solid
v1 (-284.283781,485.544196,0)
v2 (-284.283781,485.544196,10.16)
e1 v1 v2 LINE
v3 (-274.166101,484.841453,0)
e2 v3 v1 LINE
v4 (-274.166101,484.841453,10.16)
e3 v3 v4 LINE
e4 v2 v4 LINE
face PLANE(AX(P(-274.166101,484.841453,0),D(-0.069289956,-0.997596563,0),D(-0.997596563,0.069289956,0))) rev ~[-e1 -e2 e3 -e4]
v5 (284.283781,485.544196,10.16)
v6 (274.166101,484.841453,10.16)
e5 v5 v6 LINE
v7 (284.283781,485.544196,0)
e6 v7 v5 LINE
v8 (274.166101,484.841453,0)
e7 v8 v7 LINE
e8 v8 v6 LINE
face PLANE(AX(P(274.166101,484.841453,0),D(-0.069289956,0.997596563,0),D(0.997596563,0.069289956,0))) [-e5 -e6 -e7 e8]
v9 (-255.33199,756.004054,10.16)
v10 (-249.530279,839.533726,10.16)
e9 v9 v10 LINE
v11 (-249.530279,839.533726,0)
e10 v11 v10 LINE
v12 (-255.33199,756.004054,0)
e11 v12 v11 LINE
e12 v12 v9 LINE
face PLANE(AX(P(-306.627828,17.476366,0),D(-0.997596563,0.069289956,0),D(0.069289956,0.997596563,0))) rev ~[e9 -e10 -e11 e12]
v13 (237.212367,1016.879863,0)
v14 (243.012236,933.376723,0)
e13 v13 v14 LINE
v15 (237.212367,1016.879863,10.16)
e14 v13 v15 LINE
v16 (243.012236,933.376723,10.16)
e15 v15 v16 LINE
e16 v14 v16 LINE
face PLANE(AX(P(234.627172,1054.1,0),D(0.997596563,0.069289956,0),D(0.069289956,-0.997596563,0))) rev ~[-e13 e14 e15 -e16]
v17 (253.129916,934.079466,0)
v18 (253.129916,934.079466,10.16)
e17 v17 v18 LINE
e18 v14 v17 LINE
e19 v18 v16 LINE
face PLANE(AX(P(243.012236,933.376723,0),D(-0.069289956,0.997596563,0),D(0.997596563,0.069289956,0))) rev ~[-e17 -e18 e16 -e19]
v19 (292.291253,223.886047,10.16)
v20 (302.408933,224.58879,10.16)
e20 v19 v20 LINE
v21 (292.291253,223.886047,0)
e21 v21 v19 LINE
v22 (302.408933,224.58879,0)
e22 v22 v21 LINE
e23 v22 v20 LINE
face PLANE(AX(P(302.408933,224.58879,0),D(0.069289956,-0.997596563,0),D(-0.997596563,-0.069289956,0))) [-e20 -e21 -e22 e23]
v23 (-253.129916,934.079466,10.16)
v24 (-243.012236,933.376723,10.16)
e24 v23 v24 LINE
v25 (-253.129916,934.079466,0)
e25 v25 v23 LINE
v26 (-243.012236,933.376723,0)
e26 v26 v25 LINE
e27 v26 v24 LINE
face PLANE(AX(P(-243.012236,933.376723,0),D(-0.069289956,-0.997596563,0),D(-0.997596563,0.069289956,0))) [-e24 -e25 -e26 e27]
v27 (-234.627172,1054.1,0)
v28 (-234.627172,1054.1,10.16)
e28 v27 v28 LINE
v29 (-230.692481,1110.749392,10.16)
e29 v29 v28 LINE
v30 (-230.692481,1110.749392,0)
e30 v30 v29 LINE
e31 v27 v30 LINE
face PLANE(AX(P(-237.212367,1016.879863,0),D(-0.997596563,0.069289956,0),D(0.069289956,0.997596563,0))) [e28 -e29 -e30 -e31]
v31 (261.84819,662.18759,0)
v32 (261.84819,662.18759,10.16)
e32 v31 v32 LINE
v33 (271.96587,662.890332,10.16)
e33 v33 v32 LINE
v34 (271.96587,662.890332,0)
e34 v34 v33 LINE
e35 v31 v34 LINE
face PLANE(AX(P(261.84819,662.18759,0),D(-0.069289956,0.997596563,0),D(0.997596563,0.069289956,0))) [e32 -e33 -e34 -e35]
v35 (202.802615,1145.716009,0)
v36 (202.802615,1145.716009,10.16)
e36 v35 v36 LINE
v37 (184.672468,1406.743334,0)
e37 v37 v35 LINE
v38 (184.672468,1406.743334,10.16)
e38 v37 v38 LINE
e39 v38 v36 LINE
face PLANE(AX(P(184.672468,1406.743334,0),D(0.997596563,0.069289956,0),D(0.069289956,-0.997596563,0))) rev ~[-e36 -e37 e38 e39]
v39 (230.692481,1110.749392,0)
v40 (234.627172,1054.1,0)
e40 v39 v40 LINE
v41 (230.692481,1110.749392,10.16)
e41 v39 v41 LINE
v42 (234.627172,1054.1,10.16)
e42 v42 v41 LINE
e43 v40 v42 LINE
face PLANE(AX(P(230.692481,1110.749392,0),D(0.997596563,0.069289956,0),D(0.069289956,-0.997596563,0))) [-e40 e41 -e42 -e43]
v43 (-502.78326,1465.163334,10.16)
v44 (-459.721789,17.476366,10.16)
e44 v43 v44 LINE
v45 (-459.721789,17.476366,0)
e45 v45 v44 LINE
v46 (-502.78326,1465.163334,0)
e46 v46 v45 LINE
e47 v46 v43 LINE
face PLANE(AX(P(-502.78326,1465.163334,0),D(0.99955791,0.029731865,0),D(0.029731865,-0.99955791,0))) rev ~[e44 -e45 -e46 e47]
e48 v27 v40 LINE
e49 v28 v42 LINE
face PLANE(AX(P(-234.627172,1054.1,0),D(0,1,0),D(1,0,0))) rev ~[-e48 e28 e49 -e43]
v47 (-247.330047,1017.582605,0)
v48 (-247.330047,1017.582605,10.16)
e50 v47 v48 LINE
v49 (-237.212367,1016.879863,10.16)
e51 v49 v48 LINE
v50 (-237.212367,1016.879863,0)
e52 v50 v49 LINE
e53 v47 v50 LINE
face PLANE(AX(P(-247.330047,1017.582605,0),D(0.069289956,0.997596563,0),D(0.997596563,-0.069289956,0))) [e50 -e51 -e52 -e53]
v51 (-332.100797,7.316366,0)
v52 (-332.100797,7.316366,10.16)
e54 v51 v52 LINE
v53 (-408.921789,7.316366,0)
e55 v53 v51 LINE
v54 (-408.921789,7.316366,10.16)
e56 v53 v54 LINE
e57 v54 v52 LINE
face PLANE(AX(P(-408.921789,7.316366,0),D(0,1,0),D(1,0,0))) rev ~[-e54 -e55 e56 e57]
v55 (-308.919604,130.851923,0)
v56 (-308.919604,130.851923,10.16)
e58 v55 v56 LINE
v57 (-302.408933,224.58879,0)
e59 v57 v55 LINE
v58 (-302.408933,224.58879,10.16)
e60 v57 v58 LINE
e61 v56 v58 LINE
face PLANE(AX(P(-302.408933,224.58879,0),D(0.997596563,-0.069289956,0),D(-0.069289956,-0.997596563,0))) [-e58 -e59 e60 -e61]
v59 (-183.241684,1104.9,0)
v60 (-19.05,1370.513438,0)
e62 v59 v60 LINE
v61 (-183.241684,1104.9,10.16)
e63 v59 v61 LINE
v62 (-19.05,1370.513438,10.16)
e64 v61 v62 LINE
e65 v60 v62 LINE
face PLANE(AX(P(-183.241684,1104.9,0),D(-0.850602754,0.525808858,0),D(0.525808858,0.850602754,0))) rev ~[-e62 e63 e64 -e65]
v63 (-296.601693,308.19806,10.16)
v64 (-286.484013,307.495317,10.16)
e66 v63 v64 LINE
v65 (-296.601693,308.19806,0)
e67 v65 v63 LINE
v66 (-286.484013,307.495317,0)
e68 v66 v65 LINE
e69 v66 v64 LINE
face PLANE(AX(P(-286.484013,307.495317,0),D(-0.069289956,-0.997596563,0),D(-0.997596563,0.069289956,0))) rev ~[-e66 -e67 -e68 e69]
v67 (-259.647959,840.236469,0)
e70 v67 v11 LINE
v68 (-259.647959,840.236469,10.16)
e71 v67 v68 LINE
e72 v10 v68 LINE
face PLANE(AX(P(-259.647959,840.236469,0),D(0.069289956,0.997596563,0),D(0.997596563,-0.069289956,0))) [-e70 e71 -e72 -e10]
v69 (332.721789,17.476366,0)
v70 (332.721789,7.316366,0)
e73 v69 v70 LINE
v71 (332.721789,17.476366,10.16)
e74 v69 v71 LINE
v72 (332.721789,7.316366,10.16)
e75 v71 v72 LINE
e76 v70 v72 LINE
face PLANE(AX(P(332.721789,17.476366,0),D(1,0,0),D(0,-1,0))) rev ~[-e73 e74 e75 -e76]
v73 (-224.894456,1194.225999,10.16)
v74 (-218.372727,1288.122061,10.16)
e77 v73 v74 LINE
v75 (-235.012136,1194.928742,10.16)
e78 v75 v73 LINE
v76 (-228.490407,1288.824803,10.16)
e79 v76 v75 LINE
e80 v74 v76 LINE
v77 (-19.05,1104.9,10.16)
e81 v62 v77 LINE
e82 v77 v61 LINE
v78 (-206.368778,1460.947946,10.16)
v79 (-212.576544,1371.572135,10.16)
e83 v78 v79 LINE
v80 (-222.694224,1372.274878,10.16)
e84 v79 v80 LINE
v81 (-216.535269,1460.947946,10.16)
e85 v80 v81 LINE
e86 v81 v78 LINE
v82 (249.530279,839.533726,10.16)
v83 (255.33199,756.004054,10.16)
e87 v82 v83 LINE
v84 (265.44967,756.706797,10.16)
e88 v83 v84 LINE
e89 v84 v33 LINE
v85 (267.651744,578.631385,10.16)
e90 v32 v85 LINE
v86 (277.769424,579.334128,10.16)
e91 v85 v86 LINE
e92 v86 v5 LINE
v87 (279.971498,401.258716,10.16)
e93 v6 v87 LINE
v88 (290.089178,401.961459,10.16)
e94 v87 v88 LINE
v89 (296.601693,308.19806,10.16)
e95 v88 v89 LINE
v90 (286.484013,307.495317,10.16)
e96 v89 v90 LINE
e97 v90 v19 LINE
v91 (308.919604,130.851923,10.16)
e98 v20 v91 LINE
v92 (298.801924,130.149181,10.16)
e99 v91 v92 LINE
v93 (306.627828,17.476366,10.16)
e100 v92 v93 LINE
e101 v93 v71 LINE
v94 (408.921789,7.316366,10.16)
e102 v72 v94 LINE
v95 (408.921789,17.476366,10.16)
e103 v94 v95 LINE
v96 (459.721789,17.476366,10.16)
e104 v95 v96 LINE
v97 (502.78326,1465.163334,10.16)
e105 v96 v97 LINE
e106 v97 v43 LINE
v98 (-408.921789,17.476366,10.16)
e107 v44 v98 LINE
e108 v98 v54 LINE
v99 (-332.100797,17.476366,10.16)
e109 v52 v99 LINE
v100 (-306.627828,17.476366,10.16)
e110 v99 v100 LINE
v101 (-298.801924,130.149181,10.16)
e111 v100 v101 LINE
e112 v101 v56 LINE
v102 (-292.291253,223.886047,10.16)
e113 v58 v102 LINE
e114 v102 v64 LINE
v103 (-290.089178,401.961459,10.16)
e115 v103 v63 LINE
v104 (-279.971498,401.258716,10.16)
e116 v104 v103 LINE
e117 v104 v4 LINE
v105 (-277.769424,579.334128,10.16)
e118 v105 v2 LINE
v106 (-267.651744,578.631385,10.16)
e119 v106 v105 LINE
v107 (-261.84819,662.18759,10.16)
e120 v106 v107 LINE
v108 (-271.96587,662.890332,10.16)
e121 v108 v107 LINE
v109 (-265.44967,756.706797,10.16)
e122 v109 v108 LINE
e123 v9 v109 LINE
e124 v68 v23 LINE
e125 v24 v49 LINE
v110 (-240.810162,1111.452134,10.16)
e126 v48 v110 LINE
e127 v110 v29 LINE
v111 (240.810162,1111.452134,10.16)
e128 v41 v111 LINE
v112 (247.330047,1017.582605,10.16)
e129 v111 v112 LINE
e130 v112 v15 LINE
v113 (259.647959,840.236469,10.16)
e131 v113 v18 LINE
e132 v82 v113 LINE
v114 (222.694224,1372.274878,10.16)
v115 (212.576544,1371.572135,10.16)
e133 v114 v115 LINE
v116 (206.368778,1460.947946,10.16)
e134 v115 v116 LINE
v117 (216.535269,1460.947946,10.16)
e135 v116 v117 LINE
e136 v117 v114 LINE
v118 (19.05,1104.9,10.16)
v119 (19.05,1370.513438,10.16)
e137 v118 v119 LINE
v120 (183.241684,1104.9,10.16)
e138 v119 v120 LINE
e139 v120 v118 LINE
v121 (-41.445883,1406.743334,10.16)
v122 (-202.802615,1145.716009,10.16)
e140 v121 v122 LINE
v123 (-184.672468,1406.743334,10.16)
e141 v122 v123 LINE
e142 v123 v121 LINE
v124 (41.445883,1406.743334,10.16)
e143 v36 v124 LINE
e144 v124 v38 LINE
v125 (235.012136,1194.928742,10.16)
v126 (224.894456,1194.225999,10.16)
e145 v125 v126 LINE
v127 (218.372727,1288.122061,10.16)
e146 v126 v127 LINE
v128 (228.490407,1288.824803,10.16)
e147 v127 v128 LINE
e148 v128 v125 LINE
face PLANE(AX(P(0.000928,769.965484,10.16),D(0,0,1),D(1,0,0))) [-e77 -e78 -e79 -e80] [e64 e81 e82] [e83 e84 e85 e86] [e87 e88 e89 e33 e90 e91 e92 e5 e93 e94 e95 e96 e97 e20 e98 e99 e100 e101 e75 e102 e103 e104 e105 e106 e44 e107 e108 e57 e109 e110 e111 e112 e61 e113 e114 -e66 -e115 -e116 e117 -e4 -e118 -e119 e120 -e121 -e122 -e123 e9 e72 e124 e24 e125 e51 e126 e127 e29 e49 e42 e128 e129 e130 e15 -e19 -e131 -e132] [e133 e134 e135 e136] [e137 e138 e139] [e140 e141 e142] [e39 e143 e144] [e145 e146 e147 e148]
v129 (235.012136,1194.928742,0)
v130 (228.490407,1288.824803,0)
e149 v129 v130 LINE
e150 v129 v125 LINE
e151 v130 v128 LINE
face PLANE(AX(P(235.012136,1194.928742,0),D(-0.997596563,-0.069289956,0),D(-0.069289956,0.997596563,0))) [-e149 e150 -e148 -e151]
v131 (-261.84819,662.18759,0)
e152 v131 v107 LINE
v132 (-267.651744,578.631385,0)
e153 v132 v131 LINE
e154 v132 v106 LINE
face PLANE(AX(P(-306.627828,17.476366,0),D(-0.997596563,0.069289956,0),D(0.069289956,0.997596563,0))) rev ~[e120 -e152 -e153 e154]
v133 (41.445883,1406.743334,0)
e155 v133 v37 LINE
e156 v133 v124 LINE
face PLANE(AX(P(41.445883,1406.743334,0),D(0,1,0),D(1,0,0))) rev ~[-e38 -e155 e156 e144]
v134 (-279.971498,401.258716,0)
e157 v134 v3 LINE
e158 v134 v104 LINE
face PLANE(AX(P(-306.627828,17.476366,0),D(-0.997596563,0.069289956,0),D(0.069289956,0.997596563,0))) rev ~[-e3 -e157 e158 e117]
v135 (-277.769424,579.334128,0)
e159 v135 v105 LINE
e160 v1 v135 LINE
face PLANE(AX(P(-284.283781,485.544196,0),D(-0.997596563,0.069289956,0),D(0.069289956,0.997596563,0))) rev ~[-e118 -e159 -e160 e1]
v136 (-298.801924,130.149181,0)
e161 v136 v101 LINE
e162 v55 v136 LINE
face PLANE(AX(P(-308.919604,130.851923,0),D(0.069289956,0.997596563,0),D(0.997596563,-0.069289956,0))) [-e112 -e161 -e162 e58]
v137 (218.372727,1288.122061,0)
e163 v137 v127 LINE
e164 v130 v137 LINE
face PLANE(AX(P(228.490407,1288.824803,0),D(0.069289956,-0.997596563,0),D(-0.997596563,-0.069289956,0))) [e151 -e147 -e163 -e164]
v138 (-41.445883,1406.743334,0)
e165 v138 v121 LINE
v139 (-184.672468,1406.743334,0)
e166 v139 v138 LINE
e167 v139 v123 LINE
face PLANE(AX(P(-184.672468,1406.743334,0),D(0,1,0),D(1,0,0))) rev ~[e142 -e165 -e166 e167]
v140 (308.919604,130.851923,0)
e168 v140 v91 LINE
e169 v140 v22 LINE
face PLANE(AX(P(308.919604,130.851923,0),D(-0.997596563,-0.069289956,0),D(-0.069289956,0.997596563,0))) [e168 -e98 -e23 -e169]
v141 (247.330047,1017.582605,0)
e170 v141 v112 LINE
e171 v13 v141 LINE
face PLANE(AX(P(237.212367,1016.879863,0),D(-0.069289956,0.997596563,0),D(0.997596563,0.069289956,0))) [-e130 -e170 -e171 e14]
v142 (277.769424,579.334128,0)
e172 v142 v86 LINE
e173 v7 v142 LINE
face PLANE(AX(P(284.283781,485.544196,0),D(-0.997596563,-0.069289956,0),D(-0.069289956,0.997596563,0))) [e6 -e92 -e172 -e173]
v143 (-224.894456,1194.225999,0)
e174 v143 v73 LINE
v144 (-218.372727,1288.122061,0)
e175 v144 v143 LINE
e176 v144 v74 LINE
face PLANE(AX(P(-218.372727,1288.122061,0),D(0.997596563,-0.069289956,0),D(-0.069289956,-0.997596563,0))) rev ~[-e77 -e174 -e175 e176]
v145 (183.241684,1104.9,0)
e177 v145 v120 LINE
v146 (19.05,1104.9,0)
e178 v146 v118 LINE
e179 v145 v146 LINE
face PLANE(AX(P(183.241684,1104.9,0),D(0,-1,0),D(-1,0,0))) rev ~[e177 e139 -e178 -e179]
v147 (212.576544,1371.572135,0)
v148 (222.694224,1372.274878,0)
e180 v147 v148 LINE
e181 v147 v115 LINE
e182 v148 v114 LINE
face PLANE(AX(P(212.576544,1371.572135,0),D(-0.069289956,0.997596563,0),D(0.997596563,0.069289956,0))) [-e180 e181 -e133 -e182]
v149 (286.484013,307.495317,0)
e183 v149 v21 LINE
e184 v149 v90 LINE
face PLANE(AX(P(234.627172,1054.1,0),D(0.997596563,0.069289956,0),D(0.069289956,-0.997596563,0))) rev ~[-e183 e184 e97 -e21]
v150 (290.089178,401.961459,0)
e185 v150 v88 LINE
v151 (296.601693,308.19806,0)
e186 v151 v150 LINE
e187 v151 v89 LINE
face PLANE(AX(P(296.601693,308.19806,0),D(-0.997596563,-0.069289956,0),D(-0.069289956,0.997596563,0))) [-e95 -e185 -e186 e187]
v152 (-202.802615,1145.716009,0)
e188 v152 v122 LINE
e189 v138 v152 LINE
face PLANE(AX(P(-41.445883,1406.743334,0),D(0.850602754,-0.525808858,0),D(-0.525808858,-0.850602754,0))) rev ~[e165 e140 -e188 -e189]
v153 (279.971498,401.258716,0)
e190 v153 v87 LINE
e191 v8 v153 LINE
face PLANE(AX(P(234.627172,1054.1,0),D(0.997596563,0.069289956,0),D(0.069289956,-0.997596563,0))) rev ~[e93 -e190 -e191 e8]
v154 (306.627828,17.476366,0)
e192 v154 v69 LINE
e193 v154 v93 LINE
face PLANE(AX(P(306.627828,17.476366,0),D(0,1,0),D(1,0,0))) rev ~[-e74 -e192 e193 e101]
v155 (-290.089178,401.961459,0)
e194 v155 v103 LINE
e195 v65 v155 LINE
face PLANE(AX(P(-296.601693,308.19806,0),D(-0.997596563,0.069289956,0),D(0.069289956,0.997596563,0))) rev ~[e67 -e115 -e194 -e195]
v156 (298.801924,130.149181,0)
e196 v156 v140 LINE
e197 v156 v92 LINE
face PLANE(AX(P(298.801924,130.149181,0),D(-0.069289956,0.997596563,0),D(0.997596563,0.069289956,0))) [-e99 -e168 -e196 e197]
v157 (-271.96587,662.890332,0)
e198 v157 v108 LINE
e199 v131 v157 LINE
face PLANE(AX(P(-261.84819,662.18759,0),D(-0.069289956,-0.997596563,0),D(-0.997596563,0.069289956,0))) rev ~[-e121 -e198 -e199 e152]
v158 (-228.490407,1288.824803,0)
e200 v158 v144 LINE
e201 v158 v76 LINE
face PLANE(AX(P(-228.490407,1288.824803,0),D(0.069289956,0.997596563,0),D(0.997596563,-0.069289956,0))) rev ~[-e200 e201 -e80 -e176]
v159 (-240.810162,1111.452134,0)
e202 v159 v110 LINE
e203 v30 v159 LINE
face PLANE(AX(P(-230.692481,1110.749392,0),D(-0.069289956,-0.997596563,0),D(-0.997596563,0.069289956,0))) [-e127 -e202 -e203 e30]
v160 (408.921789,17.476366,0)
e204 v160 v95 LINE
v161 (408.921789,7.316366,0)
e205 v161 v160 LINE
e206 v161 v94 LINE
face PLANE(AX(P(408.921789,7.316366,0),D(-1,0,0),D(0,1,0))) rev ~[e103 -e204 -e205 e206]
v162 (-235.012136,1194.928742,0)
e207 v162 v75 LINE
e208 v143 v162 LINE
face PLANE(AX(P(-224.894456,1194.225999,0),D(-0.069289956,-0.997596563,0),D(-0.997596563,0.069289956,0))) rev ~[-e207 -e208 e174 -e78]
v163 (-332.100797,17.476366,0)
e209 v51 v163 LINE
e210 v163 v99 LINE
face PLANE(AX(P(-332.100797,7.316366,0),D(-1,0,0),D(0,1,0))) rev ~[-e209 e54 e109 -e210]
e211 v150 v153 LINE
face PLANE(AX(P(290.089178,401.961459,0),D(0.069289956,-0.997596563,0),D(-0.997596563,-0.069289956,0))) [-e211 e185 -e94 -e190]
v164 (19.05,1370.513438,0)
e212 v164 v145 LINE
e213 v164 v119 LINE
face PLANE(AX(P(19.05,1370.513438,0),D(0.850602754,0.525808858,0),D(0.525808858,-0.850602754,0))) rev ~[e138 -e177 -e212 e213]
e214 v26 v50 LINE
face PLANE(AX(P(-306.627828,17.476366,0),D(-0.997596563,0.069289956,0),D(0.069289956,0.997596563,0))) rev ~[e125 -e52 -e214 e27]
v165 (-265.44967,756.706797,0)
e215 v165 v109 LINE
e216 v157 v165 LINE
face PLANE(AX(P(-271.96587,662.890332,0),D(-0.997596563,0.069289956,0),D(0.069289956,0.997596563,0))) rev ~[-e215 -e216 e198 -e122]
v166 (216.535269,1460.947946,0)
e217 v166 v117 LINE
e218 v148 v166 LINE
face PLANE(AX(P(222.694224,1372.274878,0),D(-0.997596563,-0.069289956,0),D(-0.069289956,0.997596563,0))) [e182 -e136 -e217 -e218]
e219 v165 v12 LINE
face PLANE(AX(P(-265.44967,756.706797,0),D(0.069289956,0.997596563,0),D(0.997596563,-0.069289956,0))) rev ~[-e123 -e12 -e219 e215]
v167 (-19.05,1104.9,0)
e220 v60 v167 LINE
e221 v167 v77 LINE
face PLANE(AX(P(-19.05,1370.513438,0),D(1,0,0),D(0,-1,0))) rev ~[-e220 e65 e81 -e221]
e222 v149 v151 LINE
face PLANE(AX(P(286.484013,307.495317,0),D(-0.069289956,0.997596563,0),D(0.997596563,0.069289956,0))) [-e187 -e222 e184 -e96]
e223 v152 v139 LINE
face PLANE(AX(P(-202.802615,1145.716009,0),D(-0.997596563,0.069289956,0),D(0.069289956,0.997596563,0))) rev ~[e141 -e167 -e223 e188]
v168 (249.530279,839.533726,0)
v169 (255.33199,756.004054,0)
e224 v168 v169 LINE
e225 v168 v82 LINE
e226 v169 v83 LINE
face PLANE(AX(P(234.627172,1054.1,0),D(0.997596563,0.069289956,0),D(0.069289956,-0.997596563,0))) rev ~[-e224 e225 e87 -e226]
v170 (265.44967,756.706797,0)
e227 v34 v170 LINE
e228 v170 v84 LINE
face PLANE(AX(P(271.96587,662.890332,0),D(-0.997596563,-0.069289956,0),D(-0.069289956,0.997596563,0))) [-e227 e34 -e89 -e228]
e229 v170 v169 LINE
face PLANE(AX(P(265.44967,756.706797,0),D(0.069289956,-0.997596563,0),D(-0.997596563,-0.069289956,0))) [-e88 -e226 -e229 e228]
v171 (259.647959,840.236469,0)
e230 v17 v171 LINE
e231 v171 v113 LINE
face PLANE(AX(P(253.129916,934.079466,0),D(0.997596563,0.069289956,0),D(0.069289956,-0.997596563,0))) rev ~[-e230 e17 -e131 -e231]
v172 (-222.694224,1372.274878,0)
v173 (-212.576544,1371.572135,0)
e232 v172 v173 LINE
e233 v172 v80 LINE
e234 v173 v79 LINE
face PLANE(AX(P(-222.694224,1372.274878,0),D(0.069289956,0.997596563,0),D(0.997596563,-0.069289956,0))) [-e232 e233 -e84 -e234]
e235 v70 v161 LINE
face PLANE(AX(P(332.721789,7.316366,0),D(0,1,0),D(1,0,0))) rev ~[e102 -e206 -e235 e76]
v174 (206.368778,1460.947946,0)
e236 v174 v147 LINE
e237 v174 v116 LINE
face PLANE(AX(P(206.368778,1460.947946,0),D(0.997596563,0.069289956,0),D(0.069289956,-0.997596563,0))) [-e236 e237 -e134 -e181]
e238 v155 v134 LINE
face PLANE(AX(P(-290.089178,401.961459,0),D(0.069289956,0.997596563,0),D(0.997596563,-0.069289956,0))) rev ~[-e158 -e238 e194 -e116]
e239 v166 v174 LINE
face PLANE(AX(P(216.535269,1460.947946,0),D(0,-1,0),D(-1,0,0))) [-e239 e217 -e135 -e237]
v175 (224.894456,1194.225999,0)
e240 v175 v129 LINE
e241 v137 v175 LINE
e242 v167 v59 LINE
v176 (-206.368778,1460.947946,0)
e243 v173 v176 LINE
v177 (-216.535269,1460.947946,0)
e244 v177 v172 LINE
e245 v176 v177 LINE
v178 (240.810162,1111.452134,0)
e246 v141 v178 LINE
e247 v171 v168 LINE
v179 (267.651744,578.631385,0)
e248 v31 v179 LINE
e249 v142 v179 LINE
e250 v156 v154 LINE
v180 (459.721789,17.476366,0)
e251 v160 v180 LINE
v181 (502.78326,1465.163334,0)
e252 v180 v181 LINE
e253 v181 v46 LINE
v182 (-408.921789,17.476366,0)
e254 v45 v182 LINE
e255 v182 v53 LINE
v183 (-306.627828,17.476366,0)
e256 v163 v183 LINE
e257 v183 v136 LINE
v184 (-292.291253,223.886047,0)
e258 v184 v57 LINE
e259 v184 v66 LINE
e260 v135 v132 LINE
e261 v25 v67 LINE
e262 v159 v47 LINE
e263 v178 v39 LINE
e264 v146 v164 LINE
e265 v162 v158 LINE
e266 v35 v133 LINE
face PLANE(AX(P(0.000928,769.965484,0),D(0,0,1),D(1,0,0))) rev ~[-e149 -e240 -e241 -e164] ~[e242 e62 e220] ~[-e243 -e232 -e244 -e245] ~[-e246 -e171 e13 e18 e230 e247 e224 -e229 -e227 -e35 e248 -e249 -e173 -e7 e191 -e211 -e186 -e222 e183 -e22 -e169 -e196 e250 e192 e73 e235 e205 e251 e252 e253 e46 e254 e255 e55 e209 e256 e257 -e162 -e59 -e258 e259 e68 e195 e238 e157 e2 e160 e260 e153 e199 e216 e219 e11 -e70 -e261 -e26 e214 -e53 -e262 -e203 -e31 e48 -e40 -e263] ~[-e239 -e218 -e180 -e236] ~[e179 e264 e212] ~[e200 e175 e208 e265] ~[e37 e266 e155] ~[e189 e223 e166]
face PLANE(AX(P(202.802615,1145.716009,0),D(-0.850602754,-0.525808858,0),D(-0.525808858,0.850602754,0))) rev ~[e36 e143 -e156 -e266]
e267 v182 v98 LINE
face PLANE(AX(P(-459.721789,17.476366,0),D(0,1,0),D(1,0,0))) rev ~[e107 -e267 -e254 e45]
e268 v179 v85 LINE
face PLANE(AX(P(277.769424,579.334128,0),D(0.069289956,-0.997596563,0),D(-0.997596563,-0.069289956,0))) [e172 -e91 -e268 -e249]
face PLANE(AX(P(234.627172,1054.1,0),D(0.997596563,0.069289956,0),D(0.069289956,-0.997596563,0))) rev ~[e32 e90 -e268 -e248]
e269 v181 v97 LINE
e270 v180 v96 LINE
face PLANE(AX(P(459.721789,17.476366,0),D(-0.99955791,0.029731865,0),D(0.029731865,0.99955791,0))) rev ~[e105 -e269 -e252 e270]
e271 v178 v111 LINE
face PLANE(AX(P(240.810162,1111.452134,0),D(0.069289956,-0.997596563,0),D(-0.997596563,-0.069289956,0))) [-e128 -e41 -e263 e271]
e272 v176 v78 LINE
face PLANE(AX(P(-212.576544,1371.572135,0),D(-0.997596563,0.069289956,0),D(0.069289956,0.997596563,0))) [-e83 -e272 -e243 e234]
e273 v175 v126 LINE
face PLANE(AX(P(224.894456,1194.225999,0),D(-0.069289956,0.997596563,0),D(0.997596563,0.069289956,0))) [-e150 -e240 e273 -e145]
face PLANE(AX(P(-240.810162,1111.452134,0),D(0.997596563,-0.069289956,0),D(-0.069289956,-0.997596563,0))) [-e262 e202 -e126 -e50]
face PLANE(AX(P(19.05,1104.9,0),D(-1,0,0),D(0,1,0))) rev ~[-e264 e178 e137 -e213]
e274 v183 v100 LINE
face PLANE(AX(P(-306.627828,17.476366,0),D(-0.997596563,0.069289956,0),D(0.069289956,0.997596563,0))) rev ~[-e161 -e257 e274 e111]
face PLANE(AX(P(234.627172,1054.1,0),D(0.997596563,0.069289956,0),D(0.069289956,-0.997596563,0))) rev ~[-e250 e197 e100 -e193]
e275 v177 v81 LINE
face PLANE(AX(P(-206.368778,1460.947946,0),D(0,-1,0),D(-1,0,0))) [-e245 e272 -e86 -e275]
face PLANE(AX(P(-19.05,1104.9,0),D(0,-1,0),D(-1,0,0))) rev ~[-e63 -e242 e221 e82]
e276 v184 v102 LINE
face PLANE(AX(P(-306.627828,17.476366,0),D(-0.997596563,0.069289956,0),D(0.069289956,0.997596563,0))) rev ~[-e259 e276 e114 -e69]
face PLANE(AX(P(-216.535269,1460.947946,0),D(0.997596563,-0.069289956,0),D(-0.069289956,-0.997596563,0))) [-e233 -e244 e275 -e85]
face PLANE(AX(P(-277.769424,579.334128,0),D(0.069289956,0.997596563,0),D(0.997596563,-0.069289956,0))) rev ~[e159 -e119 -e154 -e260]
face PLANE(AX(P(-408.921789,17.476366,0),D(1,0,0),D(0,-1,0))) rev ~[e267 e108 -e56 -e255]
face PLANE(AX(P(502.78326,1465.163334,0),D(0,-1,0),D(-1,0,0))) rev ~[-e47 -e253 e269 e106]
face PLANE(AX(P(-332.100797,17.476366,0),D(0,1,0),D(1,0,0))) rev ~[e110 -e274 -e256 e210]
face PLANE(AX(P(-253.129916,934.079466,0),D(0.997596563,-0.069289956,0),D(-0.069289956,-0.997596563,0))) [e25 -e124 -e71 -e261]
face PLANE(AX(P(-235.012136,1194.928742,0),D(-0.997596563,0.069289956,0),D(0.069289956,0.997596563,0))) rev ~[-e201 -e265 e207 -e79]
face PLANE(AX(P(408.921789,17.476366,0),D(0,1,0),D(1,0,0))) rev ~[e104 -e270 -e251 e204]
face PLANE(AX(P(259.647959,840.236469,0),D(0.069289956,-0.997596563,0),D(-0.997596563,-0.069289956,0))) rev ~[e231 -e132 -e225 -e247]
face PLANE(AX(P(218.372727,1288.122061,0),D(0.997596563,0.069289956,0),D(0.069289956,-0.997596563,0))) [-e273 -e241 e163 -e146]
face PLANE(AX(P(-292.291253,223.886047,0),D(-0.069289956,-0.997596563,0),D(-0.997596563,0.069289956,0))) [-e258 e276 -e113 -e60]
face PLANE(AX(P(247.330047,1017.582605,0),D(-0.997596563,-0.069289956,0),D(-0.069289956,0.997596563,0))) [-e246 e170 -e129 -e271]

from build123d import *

# Parameters (mm, degrees)
BOSS_EXTRUDE1_DEPTH = 10.16
CUT_EXTRUDE5_DEPTH  = 12.7


with BuildPart() as part:
    # Sketch1 → Boss-Extrude1 (new body)
    with BuildSketch(Plane.XY):
        Polygon((-502.783260205, 1465.163333881), (-459.721789204, 17.476365817), (-408.921789204, 17.476365817), (-408.921789204, 7.316365817), (-332.100796745, 7.316365817), (-332.100796745, 17.476365817), (-306.627827519, 17.476365817), (-234.627172097, 1054.1), (234.627172097, 1054.1), (306.627827519, 17.476365817), (332.721789205, 17.476365817), (332.721789205, 7.316365817), (408.921789205, 7.316365817), (408.921789205, 17.476365817), (459.721789204, 17.476365817), (502.783260205, 1465.163333881), align=None)
        Polygon((183.241684323, 1104.9), (19.05, 1104.9), (19.05, 1370.513438368), align=None, mode=Mode.SUBTRACT)
        Polygon((-184.672467887, 1406.743333881), (-41.445883295, 1406.743333881), (-202.80261453, 1145.716008632), align=None, mode=Mode.SUBTRACT)
        Polygon((-19.05, 1370.513438368), (-19.05, 1104.9), (-183.241684323, 1104.9), align=None, mode=Mode.SUBTRACT)
        Polygon((184.672467887, 1406.743333881), (202.80261453, 1145.716008632), (41.445883295, 1406.743333881), align=None, mode=Mode.SUBTRACT)
    extrude(amount=BOSS_EXTRUDE1_DEPTH)

    # Sketch2 → Cut-Extrude5 (cut)
    with BuildSketch(Plane.XY):
        Polygon((-222.69422447, 1372.274878096), (-212.576544386, 1371.572135487), (-206.36877838, 1460.947946306), (-216.535268781, 1460.947946306), align=None)
        Polygon((-224.894455765, 1194.225999066), (-235.012135849, 1194.928741675), (-228.490407278, 1288.824803216), (-218.372727194, 1288.122060607), align=None)
        Polygon((224.894455765, 1194.225999066), (235.012135849, 1194.928741675), (228.490407278, 1288.824803216), (218.372727194, 1288.122060607), align=None)
        Polygon((212.576544386, 1371.572135487), (222.694224471, 1372.274878096), (216.535268781, 1460.947946306), (206.36877838, 1460.947946306), align=None)
        Polygon((-240.810161517, 1111.452134365), (-247.330047228, 1017.582605255), (-237.212367144, 1016.879862645), (-230.692481433, 1110.749391756), align=None)
        Polygon((237.212367144, 1016.879862645), (247.330047228, 1017.582605255), (240.810161517, 1111.452134365), (230.692481433, 1110.749391756), align=None)
        Polygon((-298.801924037, 130.149180543), (-292.291252627, 223.886047498), (-302.408932711, 224.588790108), (-308.919604121, 130.851923152), align=None)
        Polygon((-243.012235672, 933.376722904), (-253.129915756, 934.079465513), (-259.647958606, 840.236468834), (-249.530278522, 839.533726225), align=None)
        Polygon((243.012235672, 933.376722904), (253.129915756, 934.079465513), (259.647958606, 840.236468834), (249.530278522, 839.533726225), align=None)
        Polygon((-274.16610128, 484.841453384), (-284.283781364, 485.544195993), (-277.769424233, 579.334127811), (-267.651744149, 578.631385201), align=None)
        Polygon((-261.848189901, 662.187589804), (-271.965869985, 662.890332413), (-265.449669994, 756.706796662), (-255.33198991, 756.004054053), align=None)
        Polygon((261.848189901, 662.187589804), (271.965869985, 662.890332413), (265.449669994, 756.706796662), (255.33198991, 756.004054053), align=None)
        Polygon((274.16610128, 484.841453384), (284.283781364, 485.544195993), (277.769424233, 579.334127811), (267.651744149, 578.631385201), align=None)
        Polygon((-286.484012658, 307.495316963), (-296.601692742, 308.198059572), (-290.089178472, 401.961458959), (-279.971498388, 401.25871635), align=None)
        Polygon((286.484012658, 307.495316963), (296.601692742, 308.198059572), (290.089178472, 401.961458959), (279.971498388, 401.25871635), align=None)
        Polygon((298.801924037, 130.149180543), (308.919604121, 130.851923152), (302.408932711, 224.588790108), (292.291252627, 223.886047498), align=None)
    extrude(amount=CUT_EXTRUDE5_DEPTH, mode=Mode.SUBTRACT)


solid = part.part
